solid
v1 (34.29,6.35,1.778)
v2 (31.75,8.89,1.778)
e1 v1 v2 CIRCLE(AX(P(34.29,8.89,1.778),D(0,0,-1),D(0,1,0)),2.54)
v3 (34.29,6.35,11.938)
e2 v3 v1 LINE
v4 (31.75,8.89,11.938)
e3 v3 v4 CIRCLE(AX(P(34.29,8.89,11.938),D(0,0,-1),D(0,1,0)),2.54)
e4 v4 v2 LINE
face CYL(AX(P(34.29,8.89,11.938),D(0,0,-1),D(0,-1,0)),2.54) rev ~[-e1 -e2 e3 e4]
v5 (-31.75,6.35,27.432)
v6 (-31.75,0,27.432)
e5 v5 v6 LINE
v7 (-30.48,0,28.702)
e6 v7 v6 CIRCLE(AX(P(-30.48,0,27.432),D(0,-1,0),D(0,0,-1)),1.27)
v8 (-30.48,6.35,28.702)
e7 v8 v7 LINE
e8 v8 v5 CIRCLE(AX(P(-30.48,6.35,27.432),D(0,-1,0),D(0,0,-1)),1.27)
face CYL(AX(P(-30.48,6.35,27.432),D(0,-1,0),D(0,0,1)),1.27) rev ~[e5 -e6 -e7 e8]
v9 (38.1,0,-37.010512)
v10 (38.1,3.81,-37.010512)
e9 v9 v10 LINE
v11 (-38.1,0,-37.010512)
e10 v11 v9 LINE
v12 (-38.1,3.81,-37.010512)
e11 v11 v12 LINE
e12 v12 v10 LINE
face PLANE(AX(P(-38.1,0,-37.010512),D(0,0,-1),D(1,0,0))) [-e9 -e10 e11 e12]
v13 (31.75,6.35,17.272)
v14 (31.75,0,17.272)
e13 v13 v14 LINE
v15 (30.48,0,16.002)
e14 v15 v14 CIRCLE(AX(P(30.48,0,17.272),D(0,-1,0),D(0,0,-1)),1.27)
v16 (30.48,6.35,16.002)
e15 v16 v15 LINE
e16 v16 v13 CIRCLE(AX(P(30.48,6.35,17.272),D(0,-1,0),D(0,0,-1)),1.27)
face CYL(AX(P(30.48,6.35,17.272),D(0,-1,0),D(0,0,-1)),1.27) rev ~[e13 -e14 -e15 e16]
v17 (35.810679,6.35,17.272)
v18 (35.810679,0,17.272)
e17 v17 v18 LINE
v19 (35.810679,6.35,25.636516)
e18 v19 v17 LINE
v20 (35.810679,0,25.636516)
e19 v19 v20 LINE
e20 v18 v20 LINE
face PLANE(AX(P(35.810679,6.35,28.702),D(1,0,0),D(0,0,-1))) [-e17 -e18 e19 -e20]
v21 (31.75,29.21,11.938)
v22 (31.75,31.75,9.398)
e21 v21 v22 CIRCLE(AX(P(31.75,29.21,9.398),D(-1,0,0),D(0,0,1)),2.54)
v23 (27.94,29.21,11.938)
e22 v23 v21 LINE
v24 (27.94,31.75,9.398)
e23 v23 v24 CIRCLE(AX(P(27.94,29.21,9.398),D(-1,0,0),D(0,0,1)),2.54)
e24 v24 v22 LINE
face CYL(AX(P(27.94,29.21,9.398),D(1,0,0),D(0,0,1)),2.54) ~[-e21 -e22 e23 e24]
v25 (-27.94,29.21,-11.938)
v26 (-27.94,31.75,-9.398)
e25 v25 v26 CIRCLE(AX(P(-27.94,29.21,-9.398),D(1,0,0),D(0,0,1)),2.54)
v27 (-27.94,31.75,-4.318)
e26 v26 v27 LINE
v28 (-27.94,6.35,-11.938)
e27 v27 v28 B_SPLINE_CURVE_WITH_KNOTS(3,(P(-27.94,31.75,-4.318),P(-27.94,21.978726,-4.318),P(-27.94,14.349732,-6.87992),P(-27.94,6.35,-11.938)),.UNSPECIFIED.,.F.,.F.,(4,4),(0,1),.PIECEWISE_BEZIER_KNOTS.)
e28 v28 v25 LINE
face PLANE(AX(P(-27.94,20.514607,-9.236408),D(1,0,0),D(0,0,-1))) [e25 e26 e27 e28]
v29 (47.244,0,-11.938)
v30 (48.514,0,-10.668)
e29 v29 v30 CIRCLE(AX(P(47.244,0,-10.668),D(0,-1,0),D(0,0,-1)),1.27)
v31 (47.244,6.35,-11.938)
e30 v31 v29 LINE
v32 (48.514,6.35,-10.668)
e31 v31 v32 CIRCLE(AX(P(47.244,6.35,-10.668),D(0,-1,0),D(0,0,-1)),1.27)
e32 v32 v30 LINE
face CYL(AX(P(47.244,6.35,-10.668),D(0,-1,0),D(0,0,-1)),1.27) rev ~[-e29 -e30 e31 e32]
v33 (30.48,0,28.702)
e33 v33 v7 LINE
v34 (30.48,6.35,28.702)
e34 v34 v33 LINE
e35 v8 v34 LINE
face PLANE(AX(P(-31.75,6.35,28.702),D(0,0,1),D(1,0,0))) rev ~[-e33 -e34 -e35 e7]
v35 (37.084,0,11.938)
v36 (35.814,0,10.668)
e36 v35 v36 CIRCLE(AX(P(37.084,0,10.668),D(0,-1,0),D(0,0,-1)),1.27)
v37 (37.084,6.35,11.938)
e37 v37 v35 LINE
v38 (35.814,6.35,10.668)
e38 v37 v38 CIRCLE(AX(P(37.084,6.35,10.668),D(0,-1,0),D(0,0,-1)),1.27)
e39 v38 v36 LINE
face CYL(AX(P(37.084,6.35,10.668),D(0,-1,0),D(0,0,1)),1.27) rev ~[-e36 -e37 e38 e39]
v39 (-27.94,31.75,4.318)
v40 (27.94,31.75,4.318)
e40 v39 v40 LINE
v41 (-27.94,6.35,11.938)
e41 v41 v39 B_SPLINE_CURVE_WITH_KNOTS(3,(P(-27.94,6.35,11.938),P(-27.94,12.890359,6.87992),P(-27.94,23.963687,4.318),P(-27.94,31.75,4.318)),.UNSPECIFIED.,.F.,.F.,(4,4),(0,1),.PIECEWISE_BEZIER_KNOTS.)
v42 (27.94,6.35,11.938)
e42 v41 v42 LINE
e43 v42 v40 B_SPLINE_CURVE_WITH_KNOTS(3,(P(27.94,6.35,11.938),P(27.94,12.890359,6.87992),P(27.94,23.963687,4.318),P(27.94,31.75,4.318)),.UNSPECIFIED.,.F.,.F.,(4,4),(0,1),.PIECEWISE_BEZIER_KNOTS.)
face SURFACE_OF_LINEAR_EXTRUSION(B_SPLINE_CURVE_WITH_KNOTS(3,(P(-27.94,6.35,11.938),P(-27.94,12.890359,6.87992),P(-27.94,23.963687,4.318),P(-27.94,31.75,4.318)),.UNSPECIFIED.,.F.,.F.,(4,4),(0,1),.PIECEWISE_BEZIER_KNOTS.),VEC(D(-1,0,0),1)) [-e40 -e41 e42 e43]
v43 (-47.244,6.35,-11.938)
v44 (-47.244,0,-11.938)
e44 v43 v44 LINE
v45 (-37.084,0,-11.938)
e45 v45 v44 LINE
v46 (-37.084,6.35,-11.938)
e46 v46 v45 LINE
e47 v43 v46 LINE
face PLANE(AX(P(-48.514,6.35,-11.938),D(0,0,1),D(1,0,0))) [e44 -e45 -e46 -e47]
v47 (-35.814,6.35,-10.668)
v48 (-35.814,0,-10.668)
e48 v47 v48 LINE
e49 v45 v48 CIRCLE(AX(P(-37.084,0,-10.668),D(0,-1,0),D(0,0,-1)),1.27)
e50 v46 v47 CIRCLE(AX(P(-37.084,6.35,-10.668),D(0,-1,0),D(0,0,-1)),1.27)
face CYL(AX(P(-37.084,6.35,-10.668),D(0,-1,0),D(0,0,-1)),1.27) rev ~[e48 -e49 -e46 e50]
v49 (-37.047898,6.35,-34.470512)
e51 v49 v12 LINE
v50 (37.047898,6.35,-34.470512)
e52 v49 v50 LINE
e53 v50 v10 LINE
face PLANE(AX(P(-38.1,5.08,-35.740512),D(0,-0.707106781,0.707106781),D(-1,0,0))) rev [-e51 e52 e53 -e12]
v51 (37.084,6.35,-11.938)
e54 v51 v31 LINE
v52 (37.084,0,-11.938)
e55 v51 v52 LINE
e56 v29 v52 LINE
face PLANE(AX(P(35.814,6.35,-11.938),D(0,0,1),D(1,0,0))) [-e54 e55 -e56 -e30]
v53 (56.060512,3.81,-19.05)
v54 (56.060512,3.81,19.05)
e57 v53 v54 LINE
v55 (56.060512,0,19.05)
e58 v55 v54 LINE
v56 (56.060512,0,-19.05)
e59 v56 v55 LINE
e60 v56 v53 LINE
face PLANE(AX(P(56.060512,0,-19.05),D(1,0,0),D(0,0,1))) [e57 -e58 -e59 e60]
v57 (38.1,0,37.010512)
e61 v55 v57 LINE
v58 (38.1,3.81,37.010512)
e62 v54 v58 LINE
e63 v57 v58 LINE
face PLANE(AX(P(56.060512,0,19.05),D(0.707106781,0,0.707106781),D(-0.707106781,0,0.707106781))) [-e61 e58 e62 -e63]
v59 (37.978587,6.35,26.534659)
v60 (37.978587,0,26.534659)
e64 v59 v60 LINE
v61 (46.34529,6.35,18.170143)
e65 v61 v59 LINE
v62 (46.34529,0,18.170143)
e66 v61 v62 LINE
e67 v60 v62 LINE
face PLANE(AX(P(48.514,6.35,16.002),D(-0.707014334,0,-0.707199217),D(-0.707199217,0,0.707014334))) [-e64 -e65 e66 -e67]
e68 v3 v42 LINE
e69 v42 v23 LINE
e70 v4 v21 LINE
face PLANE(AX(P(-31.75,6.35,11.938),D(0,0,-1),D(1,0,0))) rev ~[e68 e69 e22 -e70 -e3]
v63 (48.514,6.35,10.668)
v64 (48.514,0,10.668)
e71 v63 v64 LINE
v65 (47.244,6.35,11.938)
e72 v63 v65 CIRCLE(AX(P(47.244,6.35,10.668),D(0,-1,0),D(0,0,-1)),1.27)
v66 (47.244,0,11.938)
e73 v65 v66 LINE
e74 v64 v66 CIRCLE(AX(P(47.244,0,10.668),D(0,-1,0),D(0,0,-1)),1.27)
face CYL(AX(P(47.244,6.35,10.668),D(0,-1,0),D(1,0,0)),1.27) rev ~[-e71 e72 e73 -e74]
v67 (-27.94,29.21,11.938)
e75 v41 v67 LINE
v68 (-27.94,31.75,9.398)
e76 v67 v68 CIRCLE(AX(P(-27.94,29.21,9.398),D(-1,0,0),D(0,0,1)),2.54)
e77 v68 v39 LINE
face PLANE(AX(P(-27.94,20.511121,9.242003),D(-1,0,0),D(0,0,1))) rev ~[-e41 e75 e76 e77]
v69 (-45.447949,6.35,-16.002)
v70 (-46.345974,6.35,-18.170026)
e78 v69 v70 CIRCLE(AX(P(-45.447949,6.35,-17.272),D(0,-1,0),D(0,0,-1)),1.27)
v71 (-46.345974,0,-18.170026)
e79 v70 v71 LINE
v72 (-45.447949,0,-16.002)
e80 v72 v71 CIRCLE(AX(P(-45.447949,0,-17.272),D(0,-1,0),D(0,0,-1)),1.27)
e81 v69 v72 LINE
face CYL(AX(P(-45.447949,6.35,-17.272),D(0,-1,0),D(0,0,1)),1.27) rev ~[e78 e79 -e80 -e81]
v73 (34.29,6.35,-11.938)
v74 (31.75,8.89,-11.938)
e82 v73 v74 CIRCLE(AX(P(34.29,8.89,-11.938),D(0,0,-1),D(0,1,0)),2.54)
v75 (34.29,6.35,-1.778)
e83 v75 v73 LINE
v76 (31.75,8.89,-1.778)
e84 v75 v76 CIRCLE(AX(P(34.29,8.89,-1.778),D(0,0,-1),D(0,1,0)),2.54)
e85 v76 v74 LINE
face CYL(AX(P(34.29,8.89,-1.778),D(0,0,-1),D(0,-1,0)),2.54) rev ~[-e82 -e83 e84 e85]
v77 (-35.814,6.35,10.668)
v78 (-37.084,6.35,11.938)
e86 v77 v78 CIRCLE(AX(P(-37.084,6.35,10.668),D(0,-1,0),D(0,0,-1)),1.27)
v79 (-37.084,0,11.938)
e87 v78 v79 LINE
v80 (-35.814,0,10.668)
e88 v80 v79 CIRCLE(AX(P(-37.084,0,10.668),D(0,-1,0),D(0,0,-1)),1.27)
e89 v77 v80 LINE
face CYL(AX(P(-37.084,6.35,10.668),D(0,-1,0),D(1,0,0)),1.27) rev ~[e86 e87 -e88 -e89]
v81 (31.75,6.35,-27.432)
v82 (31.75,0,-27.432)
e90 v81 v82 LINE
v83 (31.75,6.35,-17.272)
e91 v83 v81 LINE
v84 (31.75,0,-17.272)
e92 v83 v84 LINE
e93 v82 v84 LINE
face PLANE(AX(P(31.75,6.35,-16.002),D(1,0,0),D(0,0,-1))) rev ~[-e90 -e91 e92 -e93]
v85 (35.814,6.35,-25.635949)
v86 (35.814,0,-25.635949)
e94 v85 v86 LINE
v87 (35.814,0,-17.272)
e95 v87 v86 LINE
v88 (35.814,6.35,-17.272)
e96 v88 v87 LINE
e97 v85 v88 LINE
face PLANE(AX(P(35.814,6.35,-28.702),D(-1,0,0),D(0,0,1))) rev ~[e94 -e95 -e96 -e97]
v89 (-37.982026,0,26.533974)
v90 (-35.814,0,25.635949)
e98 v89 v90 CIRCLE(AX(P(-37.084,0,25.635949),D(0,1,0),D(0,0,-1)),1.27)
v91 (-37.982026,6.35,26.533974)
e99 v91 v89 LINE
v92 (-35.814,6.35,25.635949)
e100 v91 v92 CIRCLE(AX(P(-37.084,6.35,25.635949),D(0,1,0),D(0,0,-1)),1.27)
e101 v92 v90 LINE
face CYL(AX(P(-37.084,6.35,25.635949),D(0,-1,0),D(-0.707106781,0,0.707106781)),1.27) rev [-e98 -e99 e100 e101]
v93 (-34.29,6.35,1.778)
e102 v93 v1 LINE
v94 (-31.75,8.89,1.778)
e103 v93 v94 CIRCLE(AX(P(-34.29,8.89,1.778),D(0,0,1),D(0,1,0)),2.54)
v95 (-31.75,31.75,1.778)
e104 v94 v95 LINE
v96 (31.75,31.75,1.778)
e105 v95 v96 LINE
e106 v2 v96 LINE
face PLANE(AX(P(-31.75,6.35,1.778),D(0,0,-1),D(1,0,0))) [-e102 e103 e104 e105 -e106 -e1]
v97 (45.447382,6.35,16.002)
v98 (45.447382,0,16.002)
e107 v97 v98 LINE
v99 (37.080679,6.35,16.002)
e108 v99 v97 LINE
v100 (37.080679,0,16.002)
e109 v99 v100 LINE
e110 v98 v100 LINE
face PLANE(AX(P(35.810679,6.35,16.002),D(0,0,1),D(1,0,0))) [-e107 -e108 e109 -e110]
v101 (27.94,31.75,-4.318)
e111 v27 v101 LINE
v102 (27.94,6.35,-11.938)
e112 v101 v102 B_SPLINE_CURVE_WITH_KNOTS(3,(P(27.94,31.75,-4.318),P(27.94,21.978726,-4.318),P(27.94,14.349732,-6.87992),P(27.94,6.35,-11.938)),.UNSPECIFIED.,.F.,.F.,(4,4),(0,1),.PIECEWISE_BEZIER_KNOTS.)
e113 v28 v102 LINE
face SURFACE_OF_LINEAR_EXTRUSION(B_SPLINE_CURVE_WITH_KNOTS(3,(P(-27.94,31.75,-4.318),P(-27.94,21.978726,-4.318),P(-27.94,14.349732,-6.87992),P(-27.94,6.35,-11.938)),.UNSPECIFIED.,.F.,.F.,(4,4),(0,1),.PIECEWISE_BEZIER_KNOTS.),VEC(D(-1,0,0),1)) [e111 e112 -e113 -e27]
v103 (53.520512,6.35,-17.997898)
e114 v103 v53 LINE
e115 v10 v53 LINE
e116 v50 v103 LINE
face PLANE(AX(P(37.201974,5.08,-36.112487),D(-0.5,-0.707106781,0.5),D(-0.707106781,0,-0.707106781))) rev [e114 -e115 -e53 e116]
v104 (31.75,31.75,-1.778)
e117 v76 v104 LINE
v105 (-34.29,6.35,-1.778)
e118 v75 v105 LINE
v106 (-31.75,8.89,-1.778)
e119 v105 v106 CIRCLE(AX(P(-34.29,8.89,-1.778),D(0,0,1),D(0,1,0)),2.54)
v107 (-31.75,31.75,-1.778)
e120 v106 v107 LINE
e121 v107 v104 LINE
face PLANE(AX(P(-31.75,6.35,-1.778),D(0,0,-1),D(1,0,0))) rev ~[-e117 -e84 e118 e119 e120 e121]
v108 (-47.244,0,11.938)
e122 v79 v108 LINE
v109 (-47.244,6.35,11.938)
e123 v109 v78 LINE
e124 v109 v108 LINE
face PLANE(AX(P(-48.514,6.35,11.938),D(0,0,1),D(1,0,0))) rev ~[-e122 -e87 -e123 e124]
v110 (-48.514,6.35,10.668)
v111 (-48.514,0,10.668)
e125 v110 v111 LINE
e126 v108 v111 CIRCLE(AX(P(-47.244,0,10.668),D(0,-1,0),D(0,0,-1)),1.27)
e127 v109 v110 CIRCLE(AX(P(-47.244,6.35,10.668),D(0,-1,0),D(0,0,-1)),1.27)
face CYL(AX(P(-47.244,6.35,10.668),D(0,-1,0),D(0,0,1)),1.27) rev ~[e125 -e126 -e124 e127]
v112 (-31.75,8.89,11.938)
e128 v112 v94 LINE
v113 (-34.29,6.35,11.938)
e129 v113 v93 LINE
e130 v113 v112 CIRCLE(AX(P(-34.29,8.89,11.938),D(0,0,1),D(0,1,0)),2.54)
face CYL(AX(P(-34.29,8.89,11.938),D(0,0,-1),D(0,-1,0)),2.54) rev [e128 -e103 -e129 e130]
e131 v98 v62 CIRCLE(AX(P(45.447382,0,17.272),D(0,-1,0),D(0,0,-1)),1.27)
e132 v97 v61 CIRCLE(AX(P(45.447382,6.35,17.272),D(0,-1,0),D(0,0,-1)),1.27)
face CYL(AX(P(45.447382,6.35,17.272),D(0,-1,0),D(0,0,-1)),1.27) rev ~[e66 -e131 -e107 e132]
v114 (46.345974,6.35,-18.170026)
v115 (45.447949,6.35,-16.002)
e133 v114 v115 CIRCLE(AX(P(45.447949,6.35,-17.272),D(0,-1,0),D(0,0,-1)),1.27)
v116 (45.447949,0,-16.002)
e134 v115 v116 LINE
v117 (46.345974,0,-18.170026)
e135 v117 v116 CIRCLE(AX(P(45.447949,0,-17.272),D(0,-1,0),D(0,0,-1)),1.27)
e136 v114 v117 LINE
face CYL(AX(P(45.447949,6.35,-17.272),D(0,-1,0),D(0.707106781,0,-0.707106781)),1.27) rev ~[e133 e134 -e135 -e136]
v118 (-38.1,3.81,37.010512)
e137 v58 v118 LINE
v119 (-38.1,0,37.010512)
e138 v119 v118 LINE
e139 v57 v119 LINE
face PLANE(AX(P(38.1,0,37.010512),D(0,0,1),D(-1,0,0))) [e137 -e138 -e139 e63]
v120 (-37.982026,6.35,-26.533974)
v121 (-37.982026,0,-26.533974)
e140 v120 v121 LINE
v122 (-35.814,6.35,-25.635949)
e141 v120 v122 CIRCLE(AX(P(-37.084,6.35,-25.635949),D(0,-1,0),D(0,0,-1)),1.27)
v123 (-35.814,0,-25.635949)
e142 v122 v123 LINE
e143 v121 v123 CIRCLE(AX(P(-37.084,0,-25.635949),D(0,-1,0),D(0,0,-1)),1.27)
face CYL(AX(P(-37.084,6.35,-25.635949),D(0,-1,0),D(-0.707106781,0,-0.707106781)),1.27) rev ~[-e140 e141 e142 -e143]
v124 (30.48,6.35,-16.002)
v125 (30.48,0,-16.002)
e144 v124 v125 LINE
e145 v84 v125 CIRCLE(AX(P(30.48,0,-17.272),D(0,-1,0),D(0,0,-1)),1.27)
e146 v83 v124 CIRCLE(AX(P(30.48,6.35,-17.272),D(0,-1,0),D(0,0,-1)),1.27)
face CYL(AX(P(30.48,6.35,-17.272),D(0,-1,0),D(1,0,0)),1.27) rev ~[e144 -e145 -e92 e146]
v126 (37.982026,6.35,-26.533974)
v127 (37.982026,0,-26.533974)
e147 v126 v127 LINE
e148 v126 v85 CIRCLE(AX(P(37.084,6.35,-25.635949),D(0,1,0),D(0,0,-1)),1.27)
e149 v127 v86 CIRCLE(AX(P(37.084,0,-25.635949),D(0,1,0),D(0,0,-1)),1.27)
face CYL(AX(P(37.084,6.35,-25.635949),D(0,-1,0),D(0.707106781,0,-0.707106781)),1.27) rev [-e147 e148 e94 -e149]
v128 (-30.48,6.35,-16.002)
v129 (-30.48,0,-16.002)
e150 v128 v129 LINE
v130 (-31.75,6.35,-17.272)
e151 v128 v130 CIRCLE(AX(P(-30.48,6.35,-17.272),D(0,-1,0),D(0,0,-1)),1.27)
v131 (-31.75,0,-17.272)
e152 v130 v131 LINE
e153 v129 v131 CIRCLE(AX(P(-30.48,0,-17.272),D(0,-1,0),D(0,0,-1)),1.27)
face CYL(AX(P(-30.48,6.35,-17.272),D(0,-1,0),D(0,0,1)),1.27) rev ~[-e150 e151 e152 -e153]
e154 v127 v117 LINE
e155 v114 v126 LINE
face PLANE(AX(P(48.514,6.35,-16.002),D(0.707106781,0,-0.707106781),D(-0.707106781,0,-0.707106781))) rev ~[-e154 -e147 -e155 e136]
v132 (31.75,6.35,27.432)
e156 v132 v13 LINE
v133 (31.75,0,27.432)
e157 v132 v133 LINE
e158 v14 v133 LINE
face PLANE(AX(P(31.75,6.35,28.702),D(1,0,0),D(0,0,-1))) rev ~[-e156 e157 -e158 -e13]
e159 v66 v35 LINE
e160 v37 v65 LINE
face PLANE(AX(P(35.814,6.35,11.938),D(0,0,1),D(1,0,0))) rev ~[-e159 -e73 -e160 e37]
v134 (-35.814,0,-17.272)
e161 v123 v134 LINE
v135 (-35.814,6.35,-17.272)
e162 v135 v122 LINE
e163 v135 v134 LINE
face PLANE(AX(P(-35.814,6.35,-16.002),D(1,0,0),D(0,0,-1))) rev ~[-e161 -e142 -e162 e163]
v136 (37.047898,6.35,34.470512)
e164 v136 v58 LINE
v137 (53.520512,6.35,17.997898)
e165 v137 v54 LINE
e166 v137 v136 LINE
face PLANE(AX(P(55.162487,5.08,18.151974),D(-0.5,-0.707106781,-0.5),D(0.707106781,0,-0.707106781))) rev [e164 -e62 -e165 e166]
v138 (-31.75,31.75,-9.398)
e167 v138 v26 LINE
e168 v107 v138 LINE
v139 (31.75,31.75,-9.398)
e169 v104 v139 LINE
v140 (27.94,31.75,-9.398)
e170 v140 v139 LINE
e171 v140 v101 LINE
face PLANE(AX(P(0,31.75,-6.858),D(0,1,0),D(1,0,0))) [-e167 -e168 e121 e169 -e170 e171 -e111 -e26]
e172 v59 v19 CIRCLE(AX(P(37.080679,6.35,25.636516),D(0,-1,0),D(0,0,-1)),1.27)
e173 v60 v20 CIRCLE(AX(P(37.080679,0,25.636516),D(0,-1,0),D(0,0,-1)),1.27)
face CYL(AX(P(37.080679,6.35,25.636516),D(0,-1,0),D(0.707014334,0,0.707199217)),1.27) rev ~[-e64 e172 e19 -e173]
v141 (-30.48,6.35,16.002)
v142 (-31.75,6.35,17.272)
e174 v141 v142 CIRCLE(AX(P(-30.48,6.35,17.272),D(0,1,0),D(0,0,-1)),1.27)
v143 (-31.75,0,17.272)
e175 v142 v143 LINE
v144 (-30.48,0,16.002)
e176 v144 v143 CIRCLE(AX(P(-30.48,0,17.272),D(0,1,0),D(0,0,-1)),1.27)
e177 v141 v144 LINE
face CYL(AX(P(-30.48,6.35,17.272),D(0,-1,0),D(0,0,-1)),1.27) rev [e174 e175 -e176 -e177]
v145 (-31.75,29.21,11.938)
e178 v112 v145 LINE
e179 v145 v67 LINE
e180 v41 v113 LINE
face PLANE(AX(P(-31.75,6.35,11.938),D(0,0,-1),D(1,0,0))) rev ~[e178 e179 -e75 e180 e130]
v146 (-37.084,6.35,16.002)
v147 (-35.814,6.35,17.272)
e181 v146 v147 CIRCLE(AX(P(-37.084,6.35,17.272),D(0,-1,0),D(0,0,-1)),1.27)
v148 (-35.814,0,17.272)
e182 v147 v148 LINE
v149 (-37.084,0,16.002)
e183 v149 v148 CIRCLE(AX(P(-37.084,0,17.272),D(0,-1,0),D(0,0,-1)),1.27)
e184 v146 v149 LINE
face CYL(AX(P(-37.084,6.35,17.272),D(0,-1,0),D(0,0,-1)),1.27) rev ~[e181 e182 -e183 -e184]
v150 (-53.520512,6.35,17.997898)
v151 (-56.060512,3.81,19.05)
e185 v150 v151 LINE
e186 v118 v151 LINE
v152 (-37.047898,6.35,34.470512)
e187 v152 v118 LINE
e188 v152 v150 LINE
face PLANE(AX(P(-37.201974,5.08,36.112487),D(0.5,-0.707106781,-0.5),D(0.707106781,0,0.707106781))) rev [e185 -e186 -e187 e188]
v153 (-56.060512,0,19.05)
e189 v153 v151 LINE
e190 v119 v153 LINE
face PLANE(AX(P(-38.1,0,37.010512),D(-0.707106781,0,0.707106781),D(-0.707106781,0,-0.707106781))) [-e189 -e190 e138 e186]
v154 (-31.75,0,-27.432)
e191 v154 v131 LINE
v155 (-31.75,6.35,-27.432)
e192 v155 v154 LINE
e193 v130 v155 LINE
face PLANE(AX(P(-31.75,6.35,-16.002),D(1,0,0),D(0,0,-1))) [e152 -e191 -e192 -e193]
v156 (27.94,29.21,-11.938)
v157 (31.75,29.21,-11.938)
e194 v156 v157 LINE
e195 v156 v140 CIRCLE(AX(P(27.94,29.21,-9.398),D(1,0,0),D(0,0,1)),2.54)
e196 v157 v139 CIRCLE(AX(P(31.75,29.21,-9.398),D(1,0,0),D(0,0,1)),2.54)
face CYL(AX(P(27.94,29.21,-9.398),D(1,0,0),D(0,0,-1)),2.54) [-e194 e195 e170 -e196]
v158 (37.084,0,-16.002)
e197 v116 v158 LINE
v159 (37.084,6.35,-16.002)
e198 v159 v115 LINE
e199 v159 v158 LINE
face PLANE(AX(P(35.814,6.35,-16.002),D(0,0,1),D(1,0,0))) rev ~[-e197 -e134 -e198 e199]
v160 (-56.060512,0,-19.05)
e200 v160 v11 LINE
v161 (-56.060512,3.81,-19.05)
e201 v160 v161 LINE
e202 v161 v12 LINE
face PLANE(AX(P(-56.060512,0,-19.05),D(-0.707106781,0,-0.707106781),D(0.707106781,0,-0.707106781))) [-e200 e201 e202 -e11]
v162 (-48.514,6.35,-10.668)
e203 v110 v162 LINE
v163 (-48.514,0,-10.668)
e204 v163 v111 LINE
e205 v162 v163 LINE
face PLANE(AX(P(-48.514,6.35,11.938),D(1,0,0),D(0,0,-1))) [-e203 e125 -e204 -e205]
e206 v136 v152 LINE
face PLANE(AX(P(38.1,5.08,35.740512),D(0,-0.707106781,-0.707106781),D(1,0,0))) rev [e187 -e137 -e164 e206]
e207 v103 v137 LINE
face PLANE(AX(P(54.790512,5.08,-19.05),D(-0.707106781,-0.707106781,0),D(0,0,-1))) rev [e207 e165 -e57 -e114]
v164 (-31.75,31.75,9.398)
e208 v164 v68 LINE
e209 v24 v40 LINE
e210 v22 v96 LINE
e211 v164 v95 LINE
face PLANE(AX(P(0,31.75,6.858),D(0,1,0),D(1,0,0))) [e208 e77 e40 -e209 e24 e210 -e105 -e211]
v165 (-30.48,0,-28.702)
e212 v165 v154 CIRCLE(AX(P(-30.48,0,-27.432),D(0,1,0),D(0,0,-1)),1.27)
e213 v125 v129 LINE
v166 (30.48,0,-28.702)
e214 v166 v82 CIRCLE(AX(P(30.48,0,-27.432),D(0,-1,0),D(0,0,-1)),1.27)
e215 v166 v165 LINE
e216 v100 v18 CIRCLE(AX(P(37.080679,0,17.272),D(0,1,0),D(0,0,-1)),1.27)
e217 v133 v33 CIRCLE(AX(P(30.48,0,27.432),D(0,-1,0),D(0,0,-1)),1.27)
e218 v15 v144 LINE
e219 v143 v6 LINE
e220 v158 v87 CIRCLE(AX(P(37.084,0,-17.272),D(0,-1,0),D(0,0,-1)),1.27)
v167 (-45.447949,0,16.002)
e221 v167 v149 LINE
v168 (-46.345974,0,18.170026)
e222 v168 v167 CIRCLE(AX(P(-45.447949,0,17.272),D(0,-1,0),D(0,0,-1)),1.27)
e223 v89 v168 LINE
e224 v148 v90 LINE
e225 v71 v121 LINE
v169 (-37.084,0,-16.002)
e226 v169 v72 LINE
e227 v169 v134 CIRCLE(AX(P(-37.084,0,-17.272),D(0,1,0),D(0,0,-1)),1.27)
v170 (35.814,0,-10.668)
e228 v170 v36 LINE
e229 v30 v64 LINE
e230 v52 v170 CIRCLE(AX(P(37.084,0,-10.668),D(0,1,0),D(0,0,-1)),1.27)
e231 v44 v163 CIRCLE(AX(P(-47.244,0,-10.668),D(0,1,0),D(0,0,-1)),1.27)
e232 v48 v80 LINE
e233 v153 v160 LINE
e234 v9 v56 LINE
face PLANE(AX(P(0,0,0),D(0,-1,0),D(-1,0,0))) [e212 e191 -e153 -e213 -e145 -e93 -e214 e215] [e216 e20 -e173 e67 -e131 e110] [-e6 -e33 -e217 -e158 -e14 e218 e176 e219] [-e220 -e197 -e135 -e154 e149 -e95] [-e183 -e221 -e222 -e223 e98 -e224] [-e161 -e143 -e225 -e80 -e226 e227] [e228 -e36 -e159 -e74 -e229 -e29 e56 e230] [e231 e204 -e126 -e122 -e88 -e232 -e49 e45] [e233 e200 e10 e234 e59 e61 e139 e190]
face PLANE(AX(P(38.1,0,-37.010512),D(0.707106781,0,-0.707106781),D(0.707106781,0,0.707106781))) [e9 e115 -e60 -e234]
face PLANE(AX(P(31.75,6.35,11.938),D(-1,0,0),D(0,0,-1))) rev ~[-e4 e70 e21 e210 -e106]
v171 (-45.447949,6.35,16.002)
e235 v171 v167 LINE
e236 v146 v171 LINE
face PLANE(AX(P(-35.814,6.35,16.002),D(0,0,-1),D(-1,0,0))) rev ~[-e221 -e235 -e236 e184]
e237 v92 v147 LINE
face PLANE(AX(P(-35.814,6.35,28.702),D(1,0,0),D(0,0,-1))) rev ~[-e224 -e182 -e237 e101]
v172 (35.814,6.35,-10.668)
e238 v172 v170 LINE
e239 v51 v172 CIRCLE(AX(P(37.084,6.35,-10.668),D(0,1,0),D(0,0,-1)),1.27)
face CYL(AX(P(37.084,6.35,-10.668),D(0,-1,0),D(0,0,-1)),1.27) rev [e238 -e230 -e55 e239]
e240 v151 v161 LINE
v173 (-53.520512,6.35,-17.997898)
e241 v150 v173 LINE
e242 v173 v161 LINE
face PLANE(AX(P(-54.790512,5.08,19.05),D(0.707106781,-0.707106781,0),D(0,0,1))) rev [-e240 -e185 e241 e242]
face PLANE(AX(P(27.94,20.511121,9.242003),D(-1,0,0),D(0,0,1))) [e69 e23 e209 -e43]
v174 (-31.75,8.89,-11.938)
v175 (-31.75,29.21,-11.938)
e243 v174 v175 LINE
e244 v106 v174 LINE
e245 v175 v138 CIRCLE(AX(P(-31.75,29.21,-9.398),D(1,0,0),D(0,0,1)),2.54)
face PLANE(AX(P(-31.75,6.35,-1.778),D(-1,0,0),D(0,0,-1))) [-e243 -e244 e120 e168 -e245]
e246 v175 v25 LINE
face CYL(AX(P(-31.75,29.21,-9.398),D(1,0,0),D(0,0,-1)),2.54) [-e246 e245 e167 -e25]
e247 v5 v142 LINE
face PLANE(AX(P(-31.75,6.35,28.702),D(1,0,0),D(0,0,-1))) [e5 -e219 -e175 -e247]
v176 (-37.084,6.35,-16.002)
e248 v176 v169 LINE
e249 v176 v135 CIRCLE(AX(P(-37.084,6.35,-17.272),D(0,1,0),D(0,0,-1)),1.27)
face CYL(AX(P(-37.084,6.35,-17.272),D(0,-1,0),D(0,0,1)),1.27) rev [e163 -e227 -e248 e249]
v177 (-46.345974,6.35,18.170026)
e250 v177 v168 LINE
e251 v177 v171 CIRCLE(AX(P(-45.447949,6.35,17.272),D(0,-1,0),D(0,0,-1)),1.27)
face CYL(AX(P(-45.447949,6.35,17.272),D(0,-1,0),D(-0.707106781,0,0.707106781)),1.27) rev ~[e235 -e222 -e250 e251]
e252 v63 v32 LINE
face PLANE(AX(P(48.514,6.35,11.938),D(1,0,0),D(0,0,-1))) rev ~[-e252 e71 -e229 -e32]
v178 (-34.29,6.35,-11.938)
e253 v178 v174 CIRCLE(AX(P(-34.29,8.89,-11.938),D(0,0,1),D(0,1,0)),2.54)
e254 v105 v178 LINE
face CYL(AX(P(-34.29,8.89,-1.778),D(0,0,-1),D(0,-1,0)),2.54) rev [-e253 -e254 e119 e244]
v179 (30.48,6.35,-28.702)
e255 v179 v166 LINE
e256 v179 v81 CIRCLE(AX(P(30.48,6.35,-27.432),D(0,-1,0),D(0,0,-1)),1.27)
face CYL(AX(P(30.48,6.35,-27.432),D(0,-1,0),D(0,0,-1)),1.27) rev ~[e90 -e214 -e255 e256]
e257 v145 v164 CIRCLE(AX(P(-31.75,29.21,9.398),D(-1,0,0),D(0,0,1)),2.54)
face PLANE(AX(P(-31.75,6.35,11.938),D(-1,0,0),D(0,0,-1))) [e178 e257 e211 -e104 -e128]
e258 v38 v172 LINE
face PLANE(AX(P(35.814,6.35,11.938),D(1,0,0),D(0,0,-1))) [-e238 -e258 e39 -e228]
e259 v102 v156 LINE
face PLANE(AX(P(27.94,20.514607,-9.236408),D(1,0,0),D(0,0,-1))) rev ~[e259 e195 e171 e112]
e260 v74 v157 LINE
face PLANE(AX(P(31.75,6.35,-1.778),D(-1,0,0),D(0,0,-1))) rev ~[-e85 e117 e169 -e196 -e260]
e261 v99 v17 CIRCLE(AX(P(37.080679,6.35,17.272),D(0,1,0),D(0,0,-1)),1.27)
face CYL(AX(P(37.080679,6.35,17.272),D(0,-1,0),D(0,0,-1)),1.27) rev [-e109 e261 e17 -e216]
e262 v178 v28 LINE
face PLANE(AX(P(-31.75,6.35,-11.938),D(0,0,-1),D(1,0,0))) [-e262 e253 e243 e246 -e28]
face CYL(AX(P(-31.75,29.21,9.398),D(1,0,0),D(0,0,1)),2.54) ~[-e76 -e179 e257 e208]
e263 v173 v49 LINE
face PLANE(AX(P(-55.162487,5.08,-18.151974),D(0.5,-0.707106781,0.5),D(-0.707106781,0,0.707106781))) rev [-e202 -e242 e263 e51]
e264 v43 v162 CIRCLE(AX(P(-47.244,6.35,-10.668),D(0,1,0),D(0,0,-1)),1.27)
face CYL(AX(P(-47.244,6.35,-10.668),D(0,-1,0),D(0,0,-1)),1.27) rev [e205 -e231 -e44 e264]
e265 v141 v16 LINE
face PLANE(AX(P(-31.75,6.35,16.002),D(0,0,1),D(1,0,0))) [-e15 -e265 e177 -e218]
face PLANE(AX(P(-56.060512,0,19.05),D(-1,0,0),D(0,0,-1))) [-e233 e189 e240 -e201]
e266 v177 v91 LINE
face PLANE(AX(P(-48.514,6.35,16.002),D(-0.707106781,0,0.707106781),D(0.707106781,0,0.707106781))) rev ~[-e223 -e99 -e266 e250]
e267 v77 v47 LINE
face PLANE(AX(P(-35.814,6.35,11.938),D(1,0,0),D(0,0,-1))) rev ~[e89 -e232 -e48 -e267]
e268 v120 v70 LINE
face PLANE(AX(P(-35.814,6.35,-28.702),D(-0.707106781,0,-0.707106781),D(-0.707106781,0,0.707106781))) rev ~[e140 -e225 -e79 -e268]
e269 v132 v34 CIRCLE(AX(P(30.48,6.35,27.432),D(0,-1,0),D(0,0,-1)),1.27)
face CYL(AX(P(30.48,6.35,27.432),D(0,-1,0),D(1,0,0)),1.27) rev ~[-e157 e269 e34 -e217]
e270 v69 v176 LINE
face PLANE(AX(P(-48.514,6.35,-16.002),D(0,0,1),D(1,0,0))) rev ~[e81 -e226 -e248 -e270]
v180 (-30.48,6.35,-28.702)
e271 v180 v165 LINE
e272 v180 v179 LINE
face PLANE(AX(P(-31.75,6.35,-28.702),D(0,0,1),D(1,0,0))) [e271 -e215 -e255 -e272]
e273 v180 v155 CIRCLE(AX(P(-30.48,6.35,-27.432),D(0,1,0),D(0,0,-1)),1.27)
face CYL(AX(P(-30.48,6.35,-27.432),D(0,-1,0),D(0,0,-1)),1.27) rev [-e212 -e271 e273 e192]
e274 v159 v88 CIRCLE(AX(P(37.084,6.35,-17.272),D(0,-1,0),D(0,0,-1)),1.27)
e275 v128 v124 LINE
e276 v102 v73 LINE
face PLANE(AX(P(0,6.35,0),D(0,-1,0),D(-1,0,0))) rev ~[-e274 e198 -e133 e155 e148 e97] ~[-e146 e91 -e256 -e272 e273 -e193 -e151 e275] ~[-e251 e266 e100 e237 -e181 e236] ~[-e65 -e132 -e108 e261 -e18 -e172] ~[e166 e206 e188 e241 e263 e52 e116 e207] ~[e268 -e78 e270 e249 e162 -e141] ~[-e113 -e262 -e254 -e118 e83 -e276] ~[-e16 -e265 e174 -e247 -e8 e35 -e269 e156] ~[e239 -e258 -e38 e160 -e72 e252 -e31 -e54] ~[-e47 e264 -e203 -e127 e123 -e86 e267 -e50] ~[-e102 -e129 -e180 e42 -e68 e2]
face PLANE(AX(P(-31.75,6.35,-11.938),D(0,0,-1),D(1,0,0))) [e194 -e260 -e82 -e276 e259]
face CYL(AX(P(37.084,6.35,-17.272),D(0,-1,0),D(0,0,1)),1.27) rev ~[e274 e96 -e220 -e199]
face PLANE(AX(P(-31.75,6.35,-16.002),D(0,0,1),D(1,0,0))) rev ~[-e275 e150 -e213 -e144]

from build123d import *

# Parameters (mm, degrees)
BOSS_EXTRUDE1_DEPTH     = 6.35
SKETCH2_W               = 63.5
SKETCH2_H               = 10.16
BOSS_EXTRUDE2_DEPTH     = 25.4
SKETCH2_3_W             = 63.5
SKETCH2_3_H             = 12.7
SKETCH2_3_W_2           = 12.7
SKETCH2_3_H_2           = 23.876
CUT_EXTRUDE2_DEPTH      = 72.817261499
CUT_EXTRUDE1_DEPTH      = 27.94
CUT_EXTRUDE1_DEPTH_BACK = 27.94
FILLET1_R               = 2.54
CHAMFER1_SIZE           = 2.54
FILLET2_R               = 2.54
FILLET3_R               = 1.27


with BuildPart() as part:
    # Sketch1 → Boss-Extrude1 (new body)
    with BuildSketch(Plane(origin=(0, 0, 0), x_dir=(1, 0, 0), z_dir=(0, 1, 0))):
        Polygon((-38.1, 37.010512242), (38.1, 37.010512242), (56.060512242, 19.05), (56.060512242, -19.05), (38.1, -37.010512242), (-38.1, -37.010512242), (-56.060512242, -19.05), (-56.060512242, 19.05), align=None)
    extrude(amount=BOSS_EXTRUDE1_DEPTH)

    # Sketch2 → Boss-Extrude2 (add)
    with BuildSketch(Plane(origin=(0, 6.35, 0), x_dir=(1, 0, 0), z_dir=(0, 1, 0))):
        with Locations((0, 6.858)):
            Rectangle(SKETCH2_W, SKETCH2_H)
        with Locations((0, -6.858)):
            Rectangle(SKETCH2_W, SKETCH2_H)
    extrude(amount=BOSS_EXTRUDE2_DEPTH)

    # Sketch2<3> → Cut-Extrude2 (cut, through all)
    with BuildSketch(Plane(origin=(0, 6.35, 0), x_dir=(1, 0, 0), z_dir=(0, 1, 0))):
        Polygon((48.514, -16.002), (35.810678974, -16.002), (35.810678974, -28.702), align=None)
        with Locations((0, -22.352)):
            Rectangle(SKETCH2_3_W, SKETCH2_3_H)
        with Locations((0, 22.352)):
            Rectangle(SKETCH2_3_W, SKETCH2_3_H)
        with Locations((42.164, 0)):
            Rectangle(SKETCH2_3_W_2, SKETCH2_3_H_2)
        with Locations((-42.164, 0)):
            Rectangle(SKETCH2_3_W_2, SKETCH2_3_H_2)
        Polygon((48.514, 16.002), (35.814, 28.702), (35.814, 16.002), align=None)
        Polygon((-48.514, 16.002), (-35.814, 16.002), (-35.814, 28.702), align=None)
        Polygon((-48.514, -16.002), (-35.814, -28.702), (-35.814, -16.002), align=None)
    extrude(amount=-CUT_EXTRUDE2_DEPTH, mode=Mode.SUBTRACT)

    # Sketch3 → Cut-Extrude1 (cut, two sides: drawn at the far end of the back side and taken through both)
    with BuildSketch(Plane(origin=(0, 0, 0), x_dir=(0, 0, -1), z_dir=(1, 0, 0)).offset(-CUT_EXTRUDE1_DEPTH_BACK)):
        with BuildLine():
            Line((-11.938, 31.75), (-4.318, 31.75))
            add(Edge.make_bspline(
                [(-11.938, 6.35), (-6.879920458, 12.89035907), (-4.318, 23.963686989), (-4.318, 31.75)],
                knots=[0, 0, 0, 0, 1, 1, 1, 1], degree=3))
            Line((-11.938, 6.35), (-11.938, 31.75))
        make_face()
        with BuildLine():
            Line((11.938, 6.35), (11.938, 31.75))
            Line((11.938, 31.75), (4.318, 31.75))
            add(Edge.make_bspline(
                [(4.318, 31.75), (4.318, 21.978725734), (6.879920458, 14.349731609), (11.938, 6.35)],
                knots=[0, 0, 0, 0, 1, 1, 1, 1], degree=3))
        make_face()
    extrude(amount=CUT_EXTRUDE1_DEPTH + CUT_EXTRUDE1_DEPTH_BACK, mode=Mode.SUBTRACT)

    # Fillet1
    fillet1_edges = [part.edges().sort_by_distance(p)[0] for p in [
        (-29.845, 31.75, 11.938),
        (-29.845, 31.75, -11.938),
        (29.845, 31.75, 11.938),
        (29.845, 31.75, -11.938),
    ]]
    fillet(fillet1_edges, radius=FILLET1_R)

    # Chamfer1
    chamfer1_edges = [part.edges().sort_by_distance(p)[0] for p in [
        (-47.080256121, 6.35, -28.030256121),
        (-56.060512242, 6.35, 0),
        (-47.080256121, 6.35, 28.030256121),
        (0, 6.35, 37.010512242),
        (47.080256121, 6.35, 28.030256121),
        (56.060512242, 6.35, 0),
        (47.080256121, 6.35, -28.030256121),
        (0, 6.35, -37.010512242),
    ]]
    chamfer(chamfer1_edges, length=CHAMFER1_SIZE)

    # Fillet2
    fillet2_edges = [part.edges().sort_by_distance(p)[0] for p in [
        (31.75, 6.35, 6.858),
        (-31.75, 6.35, 6.858),
        (-31.75, 6.35, -6.858),
        (31.75, 6.35, -6.858),
    ]]
    fillet(fillet2_edges, radius=FILLET2_R)

    # Fillet3
    fillet3_edges = [part.edges().sort_by_distance(p)[0] for p in [
        (-31.75, 3.175, -16.002),
        (-31.75, 3.175, -28.702),
        (31.75, 3.175, -16.002),
        (31.75, 3.175, -28.702),
        (35.814, 3.175, -16.002),
        (35.814, 3.175, -28.702),
        (48.514, 3.175, -16.002),
        (48.514, 3.175, 11.938),
        (35.814, 3.175, 11.938),
        (35.814, 3.175, -11.938),
        (48.514, 3.175, -11.938),
        (-35.814, 3.175, -28.702),
        (-35.814, 3.175, -16.002),
        (-48.514, 3.175, -16.002),
        (-48.514, 3.175, 11.938),
        (-48.514, 3.175, -11.938),
        (-35.814, 3.175, -11.938),
        (-35.814, 3.175, 11.938),
        (-48.514, 3.175, 16.002),
        (-35.814, 3.175, 16.002),
        (-35.814, 3.175, 28.702),
        (-31.75, 3.175, 28.702),
        (-31.75, 3.175, 16.002),
        (31.75, 3.175, 16.002),
        (31.75, 3.175, 28.702),
        (35.810678974, 3.175, 28.702),
        (35.810678974, 3.175, 16.002),
        (48.514, 3.175, 16.002),
    ]]
    fillet(fillet3_edges, radius=FILLET3_R)


solid = part.part
